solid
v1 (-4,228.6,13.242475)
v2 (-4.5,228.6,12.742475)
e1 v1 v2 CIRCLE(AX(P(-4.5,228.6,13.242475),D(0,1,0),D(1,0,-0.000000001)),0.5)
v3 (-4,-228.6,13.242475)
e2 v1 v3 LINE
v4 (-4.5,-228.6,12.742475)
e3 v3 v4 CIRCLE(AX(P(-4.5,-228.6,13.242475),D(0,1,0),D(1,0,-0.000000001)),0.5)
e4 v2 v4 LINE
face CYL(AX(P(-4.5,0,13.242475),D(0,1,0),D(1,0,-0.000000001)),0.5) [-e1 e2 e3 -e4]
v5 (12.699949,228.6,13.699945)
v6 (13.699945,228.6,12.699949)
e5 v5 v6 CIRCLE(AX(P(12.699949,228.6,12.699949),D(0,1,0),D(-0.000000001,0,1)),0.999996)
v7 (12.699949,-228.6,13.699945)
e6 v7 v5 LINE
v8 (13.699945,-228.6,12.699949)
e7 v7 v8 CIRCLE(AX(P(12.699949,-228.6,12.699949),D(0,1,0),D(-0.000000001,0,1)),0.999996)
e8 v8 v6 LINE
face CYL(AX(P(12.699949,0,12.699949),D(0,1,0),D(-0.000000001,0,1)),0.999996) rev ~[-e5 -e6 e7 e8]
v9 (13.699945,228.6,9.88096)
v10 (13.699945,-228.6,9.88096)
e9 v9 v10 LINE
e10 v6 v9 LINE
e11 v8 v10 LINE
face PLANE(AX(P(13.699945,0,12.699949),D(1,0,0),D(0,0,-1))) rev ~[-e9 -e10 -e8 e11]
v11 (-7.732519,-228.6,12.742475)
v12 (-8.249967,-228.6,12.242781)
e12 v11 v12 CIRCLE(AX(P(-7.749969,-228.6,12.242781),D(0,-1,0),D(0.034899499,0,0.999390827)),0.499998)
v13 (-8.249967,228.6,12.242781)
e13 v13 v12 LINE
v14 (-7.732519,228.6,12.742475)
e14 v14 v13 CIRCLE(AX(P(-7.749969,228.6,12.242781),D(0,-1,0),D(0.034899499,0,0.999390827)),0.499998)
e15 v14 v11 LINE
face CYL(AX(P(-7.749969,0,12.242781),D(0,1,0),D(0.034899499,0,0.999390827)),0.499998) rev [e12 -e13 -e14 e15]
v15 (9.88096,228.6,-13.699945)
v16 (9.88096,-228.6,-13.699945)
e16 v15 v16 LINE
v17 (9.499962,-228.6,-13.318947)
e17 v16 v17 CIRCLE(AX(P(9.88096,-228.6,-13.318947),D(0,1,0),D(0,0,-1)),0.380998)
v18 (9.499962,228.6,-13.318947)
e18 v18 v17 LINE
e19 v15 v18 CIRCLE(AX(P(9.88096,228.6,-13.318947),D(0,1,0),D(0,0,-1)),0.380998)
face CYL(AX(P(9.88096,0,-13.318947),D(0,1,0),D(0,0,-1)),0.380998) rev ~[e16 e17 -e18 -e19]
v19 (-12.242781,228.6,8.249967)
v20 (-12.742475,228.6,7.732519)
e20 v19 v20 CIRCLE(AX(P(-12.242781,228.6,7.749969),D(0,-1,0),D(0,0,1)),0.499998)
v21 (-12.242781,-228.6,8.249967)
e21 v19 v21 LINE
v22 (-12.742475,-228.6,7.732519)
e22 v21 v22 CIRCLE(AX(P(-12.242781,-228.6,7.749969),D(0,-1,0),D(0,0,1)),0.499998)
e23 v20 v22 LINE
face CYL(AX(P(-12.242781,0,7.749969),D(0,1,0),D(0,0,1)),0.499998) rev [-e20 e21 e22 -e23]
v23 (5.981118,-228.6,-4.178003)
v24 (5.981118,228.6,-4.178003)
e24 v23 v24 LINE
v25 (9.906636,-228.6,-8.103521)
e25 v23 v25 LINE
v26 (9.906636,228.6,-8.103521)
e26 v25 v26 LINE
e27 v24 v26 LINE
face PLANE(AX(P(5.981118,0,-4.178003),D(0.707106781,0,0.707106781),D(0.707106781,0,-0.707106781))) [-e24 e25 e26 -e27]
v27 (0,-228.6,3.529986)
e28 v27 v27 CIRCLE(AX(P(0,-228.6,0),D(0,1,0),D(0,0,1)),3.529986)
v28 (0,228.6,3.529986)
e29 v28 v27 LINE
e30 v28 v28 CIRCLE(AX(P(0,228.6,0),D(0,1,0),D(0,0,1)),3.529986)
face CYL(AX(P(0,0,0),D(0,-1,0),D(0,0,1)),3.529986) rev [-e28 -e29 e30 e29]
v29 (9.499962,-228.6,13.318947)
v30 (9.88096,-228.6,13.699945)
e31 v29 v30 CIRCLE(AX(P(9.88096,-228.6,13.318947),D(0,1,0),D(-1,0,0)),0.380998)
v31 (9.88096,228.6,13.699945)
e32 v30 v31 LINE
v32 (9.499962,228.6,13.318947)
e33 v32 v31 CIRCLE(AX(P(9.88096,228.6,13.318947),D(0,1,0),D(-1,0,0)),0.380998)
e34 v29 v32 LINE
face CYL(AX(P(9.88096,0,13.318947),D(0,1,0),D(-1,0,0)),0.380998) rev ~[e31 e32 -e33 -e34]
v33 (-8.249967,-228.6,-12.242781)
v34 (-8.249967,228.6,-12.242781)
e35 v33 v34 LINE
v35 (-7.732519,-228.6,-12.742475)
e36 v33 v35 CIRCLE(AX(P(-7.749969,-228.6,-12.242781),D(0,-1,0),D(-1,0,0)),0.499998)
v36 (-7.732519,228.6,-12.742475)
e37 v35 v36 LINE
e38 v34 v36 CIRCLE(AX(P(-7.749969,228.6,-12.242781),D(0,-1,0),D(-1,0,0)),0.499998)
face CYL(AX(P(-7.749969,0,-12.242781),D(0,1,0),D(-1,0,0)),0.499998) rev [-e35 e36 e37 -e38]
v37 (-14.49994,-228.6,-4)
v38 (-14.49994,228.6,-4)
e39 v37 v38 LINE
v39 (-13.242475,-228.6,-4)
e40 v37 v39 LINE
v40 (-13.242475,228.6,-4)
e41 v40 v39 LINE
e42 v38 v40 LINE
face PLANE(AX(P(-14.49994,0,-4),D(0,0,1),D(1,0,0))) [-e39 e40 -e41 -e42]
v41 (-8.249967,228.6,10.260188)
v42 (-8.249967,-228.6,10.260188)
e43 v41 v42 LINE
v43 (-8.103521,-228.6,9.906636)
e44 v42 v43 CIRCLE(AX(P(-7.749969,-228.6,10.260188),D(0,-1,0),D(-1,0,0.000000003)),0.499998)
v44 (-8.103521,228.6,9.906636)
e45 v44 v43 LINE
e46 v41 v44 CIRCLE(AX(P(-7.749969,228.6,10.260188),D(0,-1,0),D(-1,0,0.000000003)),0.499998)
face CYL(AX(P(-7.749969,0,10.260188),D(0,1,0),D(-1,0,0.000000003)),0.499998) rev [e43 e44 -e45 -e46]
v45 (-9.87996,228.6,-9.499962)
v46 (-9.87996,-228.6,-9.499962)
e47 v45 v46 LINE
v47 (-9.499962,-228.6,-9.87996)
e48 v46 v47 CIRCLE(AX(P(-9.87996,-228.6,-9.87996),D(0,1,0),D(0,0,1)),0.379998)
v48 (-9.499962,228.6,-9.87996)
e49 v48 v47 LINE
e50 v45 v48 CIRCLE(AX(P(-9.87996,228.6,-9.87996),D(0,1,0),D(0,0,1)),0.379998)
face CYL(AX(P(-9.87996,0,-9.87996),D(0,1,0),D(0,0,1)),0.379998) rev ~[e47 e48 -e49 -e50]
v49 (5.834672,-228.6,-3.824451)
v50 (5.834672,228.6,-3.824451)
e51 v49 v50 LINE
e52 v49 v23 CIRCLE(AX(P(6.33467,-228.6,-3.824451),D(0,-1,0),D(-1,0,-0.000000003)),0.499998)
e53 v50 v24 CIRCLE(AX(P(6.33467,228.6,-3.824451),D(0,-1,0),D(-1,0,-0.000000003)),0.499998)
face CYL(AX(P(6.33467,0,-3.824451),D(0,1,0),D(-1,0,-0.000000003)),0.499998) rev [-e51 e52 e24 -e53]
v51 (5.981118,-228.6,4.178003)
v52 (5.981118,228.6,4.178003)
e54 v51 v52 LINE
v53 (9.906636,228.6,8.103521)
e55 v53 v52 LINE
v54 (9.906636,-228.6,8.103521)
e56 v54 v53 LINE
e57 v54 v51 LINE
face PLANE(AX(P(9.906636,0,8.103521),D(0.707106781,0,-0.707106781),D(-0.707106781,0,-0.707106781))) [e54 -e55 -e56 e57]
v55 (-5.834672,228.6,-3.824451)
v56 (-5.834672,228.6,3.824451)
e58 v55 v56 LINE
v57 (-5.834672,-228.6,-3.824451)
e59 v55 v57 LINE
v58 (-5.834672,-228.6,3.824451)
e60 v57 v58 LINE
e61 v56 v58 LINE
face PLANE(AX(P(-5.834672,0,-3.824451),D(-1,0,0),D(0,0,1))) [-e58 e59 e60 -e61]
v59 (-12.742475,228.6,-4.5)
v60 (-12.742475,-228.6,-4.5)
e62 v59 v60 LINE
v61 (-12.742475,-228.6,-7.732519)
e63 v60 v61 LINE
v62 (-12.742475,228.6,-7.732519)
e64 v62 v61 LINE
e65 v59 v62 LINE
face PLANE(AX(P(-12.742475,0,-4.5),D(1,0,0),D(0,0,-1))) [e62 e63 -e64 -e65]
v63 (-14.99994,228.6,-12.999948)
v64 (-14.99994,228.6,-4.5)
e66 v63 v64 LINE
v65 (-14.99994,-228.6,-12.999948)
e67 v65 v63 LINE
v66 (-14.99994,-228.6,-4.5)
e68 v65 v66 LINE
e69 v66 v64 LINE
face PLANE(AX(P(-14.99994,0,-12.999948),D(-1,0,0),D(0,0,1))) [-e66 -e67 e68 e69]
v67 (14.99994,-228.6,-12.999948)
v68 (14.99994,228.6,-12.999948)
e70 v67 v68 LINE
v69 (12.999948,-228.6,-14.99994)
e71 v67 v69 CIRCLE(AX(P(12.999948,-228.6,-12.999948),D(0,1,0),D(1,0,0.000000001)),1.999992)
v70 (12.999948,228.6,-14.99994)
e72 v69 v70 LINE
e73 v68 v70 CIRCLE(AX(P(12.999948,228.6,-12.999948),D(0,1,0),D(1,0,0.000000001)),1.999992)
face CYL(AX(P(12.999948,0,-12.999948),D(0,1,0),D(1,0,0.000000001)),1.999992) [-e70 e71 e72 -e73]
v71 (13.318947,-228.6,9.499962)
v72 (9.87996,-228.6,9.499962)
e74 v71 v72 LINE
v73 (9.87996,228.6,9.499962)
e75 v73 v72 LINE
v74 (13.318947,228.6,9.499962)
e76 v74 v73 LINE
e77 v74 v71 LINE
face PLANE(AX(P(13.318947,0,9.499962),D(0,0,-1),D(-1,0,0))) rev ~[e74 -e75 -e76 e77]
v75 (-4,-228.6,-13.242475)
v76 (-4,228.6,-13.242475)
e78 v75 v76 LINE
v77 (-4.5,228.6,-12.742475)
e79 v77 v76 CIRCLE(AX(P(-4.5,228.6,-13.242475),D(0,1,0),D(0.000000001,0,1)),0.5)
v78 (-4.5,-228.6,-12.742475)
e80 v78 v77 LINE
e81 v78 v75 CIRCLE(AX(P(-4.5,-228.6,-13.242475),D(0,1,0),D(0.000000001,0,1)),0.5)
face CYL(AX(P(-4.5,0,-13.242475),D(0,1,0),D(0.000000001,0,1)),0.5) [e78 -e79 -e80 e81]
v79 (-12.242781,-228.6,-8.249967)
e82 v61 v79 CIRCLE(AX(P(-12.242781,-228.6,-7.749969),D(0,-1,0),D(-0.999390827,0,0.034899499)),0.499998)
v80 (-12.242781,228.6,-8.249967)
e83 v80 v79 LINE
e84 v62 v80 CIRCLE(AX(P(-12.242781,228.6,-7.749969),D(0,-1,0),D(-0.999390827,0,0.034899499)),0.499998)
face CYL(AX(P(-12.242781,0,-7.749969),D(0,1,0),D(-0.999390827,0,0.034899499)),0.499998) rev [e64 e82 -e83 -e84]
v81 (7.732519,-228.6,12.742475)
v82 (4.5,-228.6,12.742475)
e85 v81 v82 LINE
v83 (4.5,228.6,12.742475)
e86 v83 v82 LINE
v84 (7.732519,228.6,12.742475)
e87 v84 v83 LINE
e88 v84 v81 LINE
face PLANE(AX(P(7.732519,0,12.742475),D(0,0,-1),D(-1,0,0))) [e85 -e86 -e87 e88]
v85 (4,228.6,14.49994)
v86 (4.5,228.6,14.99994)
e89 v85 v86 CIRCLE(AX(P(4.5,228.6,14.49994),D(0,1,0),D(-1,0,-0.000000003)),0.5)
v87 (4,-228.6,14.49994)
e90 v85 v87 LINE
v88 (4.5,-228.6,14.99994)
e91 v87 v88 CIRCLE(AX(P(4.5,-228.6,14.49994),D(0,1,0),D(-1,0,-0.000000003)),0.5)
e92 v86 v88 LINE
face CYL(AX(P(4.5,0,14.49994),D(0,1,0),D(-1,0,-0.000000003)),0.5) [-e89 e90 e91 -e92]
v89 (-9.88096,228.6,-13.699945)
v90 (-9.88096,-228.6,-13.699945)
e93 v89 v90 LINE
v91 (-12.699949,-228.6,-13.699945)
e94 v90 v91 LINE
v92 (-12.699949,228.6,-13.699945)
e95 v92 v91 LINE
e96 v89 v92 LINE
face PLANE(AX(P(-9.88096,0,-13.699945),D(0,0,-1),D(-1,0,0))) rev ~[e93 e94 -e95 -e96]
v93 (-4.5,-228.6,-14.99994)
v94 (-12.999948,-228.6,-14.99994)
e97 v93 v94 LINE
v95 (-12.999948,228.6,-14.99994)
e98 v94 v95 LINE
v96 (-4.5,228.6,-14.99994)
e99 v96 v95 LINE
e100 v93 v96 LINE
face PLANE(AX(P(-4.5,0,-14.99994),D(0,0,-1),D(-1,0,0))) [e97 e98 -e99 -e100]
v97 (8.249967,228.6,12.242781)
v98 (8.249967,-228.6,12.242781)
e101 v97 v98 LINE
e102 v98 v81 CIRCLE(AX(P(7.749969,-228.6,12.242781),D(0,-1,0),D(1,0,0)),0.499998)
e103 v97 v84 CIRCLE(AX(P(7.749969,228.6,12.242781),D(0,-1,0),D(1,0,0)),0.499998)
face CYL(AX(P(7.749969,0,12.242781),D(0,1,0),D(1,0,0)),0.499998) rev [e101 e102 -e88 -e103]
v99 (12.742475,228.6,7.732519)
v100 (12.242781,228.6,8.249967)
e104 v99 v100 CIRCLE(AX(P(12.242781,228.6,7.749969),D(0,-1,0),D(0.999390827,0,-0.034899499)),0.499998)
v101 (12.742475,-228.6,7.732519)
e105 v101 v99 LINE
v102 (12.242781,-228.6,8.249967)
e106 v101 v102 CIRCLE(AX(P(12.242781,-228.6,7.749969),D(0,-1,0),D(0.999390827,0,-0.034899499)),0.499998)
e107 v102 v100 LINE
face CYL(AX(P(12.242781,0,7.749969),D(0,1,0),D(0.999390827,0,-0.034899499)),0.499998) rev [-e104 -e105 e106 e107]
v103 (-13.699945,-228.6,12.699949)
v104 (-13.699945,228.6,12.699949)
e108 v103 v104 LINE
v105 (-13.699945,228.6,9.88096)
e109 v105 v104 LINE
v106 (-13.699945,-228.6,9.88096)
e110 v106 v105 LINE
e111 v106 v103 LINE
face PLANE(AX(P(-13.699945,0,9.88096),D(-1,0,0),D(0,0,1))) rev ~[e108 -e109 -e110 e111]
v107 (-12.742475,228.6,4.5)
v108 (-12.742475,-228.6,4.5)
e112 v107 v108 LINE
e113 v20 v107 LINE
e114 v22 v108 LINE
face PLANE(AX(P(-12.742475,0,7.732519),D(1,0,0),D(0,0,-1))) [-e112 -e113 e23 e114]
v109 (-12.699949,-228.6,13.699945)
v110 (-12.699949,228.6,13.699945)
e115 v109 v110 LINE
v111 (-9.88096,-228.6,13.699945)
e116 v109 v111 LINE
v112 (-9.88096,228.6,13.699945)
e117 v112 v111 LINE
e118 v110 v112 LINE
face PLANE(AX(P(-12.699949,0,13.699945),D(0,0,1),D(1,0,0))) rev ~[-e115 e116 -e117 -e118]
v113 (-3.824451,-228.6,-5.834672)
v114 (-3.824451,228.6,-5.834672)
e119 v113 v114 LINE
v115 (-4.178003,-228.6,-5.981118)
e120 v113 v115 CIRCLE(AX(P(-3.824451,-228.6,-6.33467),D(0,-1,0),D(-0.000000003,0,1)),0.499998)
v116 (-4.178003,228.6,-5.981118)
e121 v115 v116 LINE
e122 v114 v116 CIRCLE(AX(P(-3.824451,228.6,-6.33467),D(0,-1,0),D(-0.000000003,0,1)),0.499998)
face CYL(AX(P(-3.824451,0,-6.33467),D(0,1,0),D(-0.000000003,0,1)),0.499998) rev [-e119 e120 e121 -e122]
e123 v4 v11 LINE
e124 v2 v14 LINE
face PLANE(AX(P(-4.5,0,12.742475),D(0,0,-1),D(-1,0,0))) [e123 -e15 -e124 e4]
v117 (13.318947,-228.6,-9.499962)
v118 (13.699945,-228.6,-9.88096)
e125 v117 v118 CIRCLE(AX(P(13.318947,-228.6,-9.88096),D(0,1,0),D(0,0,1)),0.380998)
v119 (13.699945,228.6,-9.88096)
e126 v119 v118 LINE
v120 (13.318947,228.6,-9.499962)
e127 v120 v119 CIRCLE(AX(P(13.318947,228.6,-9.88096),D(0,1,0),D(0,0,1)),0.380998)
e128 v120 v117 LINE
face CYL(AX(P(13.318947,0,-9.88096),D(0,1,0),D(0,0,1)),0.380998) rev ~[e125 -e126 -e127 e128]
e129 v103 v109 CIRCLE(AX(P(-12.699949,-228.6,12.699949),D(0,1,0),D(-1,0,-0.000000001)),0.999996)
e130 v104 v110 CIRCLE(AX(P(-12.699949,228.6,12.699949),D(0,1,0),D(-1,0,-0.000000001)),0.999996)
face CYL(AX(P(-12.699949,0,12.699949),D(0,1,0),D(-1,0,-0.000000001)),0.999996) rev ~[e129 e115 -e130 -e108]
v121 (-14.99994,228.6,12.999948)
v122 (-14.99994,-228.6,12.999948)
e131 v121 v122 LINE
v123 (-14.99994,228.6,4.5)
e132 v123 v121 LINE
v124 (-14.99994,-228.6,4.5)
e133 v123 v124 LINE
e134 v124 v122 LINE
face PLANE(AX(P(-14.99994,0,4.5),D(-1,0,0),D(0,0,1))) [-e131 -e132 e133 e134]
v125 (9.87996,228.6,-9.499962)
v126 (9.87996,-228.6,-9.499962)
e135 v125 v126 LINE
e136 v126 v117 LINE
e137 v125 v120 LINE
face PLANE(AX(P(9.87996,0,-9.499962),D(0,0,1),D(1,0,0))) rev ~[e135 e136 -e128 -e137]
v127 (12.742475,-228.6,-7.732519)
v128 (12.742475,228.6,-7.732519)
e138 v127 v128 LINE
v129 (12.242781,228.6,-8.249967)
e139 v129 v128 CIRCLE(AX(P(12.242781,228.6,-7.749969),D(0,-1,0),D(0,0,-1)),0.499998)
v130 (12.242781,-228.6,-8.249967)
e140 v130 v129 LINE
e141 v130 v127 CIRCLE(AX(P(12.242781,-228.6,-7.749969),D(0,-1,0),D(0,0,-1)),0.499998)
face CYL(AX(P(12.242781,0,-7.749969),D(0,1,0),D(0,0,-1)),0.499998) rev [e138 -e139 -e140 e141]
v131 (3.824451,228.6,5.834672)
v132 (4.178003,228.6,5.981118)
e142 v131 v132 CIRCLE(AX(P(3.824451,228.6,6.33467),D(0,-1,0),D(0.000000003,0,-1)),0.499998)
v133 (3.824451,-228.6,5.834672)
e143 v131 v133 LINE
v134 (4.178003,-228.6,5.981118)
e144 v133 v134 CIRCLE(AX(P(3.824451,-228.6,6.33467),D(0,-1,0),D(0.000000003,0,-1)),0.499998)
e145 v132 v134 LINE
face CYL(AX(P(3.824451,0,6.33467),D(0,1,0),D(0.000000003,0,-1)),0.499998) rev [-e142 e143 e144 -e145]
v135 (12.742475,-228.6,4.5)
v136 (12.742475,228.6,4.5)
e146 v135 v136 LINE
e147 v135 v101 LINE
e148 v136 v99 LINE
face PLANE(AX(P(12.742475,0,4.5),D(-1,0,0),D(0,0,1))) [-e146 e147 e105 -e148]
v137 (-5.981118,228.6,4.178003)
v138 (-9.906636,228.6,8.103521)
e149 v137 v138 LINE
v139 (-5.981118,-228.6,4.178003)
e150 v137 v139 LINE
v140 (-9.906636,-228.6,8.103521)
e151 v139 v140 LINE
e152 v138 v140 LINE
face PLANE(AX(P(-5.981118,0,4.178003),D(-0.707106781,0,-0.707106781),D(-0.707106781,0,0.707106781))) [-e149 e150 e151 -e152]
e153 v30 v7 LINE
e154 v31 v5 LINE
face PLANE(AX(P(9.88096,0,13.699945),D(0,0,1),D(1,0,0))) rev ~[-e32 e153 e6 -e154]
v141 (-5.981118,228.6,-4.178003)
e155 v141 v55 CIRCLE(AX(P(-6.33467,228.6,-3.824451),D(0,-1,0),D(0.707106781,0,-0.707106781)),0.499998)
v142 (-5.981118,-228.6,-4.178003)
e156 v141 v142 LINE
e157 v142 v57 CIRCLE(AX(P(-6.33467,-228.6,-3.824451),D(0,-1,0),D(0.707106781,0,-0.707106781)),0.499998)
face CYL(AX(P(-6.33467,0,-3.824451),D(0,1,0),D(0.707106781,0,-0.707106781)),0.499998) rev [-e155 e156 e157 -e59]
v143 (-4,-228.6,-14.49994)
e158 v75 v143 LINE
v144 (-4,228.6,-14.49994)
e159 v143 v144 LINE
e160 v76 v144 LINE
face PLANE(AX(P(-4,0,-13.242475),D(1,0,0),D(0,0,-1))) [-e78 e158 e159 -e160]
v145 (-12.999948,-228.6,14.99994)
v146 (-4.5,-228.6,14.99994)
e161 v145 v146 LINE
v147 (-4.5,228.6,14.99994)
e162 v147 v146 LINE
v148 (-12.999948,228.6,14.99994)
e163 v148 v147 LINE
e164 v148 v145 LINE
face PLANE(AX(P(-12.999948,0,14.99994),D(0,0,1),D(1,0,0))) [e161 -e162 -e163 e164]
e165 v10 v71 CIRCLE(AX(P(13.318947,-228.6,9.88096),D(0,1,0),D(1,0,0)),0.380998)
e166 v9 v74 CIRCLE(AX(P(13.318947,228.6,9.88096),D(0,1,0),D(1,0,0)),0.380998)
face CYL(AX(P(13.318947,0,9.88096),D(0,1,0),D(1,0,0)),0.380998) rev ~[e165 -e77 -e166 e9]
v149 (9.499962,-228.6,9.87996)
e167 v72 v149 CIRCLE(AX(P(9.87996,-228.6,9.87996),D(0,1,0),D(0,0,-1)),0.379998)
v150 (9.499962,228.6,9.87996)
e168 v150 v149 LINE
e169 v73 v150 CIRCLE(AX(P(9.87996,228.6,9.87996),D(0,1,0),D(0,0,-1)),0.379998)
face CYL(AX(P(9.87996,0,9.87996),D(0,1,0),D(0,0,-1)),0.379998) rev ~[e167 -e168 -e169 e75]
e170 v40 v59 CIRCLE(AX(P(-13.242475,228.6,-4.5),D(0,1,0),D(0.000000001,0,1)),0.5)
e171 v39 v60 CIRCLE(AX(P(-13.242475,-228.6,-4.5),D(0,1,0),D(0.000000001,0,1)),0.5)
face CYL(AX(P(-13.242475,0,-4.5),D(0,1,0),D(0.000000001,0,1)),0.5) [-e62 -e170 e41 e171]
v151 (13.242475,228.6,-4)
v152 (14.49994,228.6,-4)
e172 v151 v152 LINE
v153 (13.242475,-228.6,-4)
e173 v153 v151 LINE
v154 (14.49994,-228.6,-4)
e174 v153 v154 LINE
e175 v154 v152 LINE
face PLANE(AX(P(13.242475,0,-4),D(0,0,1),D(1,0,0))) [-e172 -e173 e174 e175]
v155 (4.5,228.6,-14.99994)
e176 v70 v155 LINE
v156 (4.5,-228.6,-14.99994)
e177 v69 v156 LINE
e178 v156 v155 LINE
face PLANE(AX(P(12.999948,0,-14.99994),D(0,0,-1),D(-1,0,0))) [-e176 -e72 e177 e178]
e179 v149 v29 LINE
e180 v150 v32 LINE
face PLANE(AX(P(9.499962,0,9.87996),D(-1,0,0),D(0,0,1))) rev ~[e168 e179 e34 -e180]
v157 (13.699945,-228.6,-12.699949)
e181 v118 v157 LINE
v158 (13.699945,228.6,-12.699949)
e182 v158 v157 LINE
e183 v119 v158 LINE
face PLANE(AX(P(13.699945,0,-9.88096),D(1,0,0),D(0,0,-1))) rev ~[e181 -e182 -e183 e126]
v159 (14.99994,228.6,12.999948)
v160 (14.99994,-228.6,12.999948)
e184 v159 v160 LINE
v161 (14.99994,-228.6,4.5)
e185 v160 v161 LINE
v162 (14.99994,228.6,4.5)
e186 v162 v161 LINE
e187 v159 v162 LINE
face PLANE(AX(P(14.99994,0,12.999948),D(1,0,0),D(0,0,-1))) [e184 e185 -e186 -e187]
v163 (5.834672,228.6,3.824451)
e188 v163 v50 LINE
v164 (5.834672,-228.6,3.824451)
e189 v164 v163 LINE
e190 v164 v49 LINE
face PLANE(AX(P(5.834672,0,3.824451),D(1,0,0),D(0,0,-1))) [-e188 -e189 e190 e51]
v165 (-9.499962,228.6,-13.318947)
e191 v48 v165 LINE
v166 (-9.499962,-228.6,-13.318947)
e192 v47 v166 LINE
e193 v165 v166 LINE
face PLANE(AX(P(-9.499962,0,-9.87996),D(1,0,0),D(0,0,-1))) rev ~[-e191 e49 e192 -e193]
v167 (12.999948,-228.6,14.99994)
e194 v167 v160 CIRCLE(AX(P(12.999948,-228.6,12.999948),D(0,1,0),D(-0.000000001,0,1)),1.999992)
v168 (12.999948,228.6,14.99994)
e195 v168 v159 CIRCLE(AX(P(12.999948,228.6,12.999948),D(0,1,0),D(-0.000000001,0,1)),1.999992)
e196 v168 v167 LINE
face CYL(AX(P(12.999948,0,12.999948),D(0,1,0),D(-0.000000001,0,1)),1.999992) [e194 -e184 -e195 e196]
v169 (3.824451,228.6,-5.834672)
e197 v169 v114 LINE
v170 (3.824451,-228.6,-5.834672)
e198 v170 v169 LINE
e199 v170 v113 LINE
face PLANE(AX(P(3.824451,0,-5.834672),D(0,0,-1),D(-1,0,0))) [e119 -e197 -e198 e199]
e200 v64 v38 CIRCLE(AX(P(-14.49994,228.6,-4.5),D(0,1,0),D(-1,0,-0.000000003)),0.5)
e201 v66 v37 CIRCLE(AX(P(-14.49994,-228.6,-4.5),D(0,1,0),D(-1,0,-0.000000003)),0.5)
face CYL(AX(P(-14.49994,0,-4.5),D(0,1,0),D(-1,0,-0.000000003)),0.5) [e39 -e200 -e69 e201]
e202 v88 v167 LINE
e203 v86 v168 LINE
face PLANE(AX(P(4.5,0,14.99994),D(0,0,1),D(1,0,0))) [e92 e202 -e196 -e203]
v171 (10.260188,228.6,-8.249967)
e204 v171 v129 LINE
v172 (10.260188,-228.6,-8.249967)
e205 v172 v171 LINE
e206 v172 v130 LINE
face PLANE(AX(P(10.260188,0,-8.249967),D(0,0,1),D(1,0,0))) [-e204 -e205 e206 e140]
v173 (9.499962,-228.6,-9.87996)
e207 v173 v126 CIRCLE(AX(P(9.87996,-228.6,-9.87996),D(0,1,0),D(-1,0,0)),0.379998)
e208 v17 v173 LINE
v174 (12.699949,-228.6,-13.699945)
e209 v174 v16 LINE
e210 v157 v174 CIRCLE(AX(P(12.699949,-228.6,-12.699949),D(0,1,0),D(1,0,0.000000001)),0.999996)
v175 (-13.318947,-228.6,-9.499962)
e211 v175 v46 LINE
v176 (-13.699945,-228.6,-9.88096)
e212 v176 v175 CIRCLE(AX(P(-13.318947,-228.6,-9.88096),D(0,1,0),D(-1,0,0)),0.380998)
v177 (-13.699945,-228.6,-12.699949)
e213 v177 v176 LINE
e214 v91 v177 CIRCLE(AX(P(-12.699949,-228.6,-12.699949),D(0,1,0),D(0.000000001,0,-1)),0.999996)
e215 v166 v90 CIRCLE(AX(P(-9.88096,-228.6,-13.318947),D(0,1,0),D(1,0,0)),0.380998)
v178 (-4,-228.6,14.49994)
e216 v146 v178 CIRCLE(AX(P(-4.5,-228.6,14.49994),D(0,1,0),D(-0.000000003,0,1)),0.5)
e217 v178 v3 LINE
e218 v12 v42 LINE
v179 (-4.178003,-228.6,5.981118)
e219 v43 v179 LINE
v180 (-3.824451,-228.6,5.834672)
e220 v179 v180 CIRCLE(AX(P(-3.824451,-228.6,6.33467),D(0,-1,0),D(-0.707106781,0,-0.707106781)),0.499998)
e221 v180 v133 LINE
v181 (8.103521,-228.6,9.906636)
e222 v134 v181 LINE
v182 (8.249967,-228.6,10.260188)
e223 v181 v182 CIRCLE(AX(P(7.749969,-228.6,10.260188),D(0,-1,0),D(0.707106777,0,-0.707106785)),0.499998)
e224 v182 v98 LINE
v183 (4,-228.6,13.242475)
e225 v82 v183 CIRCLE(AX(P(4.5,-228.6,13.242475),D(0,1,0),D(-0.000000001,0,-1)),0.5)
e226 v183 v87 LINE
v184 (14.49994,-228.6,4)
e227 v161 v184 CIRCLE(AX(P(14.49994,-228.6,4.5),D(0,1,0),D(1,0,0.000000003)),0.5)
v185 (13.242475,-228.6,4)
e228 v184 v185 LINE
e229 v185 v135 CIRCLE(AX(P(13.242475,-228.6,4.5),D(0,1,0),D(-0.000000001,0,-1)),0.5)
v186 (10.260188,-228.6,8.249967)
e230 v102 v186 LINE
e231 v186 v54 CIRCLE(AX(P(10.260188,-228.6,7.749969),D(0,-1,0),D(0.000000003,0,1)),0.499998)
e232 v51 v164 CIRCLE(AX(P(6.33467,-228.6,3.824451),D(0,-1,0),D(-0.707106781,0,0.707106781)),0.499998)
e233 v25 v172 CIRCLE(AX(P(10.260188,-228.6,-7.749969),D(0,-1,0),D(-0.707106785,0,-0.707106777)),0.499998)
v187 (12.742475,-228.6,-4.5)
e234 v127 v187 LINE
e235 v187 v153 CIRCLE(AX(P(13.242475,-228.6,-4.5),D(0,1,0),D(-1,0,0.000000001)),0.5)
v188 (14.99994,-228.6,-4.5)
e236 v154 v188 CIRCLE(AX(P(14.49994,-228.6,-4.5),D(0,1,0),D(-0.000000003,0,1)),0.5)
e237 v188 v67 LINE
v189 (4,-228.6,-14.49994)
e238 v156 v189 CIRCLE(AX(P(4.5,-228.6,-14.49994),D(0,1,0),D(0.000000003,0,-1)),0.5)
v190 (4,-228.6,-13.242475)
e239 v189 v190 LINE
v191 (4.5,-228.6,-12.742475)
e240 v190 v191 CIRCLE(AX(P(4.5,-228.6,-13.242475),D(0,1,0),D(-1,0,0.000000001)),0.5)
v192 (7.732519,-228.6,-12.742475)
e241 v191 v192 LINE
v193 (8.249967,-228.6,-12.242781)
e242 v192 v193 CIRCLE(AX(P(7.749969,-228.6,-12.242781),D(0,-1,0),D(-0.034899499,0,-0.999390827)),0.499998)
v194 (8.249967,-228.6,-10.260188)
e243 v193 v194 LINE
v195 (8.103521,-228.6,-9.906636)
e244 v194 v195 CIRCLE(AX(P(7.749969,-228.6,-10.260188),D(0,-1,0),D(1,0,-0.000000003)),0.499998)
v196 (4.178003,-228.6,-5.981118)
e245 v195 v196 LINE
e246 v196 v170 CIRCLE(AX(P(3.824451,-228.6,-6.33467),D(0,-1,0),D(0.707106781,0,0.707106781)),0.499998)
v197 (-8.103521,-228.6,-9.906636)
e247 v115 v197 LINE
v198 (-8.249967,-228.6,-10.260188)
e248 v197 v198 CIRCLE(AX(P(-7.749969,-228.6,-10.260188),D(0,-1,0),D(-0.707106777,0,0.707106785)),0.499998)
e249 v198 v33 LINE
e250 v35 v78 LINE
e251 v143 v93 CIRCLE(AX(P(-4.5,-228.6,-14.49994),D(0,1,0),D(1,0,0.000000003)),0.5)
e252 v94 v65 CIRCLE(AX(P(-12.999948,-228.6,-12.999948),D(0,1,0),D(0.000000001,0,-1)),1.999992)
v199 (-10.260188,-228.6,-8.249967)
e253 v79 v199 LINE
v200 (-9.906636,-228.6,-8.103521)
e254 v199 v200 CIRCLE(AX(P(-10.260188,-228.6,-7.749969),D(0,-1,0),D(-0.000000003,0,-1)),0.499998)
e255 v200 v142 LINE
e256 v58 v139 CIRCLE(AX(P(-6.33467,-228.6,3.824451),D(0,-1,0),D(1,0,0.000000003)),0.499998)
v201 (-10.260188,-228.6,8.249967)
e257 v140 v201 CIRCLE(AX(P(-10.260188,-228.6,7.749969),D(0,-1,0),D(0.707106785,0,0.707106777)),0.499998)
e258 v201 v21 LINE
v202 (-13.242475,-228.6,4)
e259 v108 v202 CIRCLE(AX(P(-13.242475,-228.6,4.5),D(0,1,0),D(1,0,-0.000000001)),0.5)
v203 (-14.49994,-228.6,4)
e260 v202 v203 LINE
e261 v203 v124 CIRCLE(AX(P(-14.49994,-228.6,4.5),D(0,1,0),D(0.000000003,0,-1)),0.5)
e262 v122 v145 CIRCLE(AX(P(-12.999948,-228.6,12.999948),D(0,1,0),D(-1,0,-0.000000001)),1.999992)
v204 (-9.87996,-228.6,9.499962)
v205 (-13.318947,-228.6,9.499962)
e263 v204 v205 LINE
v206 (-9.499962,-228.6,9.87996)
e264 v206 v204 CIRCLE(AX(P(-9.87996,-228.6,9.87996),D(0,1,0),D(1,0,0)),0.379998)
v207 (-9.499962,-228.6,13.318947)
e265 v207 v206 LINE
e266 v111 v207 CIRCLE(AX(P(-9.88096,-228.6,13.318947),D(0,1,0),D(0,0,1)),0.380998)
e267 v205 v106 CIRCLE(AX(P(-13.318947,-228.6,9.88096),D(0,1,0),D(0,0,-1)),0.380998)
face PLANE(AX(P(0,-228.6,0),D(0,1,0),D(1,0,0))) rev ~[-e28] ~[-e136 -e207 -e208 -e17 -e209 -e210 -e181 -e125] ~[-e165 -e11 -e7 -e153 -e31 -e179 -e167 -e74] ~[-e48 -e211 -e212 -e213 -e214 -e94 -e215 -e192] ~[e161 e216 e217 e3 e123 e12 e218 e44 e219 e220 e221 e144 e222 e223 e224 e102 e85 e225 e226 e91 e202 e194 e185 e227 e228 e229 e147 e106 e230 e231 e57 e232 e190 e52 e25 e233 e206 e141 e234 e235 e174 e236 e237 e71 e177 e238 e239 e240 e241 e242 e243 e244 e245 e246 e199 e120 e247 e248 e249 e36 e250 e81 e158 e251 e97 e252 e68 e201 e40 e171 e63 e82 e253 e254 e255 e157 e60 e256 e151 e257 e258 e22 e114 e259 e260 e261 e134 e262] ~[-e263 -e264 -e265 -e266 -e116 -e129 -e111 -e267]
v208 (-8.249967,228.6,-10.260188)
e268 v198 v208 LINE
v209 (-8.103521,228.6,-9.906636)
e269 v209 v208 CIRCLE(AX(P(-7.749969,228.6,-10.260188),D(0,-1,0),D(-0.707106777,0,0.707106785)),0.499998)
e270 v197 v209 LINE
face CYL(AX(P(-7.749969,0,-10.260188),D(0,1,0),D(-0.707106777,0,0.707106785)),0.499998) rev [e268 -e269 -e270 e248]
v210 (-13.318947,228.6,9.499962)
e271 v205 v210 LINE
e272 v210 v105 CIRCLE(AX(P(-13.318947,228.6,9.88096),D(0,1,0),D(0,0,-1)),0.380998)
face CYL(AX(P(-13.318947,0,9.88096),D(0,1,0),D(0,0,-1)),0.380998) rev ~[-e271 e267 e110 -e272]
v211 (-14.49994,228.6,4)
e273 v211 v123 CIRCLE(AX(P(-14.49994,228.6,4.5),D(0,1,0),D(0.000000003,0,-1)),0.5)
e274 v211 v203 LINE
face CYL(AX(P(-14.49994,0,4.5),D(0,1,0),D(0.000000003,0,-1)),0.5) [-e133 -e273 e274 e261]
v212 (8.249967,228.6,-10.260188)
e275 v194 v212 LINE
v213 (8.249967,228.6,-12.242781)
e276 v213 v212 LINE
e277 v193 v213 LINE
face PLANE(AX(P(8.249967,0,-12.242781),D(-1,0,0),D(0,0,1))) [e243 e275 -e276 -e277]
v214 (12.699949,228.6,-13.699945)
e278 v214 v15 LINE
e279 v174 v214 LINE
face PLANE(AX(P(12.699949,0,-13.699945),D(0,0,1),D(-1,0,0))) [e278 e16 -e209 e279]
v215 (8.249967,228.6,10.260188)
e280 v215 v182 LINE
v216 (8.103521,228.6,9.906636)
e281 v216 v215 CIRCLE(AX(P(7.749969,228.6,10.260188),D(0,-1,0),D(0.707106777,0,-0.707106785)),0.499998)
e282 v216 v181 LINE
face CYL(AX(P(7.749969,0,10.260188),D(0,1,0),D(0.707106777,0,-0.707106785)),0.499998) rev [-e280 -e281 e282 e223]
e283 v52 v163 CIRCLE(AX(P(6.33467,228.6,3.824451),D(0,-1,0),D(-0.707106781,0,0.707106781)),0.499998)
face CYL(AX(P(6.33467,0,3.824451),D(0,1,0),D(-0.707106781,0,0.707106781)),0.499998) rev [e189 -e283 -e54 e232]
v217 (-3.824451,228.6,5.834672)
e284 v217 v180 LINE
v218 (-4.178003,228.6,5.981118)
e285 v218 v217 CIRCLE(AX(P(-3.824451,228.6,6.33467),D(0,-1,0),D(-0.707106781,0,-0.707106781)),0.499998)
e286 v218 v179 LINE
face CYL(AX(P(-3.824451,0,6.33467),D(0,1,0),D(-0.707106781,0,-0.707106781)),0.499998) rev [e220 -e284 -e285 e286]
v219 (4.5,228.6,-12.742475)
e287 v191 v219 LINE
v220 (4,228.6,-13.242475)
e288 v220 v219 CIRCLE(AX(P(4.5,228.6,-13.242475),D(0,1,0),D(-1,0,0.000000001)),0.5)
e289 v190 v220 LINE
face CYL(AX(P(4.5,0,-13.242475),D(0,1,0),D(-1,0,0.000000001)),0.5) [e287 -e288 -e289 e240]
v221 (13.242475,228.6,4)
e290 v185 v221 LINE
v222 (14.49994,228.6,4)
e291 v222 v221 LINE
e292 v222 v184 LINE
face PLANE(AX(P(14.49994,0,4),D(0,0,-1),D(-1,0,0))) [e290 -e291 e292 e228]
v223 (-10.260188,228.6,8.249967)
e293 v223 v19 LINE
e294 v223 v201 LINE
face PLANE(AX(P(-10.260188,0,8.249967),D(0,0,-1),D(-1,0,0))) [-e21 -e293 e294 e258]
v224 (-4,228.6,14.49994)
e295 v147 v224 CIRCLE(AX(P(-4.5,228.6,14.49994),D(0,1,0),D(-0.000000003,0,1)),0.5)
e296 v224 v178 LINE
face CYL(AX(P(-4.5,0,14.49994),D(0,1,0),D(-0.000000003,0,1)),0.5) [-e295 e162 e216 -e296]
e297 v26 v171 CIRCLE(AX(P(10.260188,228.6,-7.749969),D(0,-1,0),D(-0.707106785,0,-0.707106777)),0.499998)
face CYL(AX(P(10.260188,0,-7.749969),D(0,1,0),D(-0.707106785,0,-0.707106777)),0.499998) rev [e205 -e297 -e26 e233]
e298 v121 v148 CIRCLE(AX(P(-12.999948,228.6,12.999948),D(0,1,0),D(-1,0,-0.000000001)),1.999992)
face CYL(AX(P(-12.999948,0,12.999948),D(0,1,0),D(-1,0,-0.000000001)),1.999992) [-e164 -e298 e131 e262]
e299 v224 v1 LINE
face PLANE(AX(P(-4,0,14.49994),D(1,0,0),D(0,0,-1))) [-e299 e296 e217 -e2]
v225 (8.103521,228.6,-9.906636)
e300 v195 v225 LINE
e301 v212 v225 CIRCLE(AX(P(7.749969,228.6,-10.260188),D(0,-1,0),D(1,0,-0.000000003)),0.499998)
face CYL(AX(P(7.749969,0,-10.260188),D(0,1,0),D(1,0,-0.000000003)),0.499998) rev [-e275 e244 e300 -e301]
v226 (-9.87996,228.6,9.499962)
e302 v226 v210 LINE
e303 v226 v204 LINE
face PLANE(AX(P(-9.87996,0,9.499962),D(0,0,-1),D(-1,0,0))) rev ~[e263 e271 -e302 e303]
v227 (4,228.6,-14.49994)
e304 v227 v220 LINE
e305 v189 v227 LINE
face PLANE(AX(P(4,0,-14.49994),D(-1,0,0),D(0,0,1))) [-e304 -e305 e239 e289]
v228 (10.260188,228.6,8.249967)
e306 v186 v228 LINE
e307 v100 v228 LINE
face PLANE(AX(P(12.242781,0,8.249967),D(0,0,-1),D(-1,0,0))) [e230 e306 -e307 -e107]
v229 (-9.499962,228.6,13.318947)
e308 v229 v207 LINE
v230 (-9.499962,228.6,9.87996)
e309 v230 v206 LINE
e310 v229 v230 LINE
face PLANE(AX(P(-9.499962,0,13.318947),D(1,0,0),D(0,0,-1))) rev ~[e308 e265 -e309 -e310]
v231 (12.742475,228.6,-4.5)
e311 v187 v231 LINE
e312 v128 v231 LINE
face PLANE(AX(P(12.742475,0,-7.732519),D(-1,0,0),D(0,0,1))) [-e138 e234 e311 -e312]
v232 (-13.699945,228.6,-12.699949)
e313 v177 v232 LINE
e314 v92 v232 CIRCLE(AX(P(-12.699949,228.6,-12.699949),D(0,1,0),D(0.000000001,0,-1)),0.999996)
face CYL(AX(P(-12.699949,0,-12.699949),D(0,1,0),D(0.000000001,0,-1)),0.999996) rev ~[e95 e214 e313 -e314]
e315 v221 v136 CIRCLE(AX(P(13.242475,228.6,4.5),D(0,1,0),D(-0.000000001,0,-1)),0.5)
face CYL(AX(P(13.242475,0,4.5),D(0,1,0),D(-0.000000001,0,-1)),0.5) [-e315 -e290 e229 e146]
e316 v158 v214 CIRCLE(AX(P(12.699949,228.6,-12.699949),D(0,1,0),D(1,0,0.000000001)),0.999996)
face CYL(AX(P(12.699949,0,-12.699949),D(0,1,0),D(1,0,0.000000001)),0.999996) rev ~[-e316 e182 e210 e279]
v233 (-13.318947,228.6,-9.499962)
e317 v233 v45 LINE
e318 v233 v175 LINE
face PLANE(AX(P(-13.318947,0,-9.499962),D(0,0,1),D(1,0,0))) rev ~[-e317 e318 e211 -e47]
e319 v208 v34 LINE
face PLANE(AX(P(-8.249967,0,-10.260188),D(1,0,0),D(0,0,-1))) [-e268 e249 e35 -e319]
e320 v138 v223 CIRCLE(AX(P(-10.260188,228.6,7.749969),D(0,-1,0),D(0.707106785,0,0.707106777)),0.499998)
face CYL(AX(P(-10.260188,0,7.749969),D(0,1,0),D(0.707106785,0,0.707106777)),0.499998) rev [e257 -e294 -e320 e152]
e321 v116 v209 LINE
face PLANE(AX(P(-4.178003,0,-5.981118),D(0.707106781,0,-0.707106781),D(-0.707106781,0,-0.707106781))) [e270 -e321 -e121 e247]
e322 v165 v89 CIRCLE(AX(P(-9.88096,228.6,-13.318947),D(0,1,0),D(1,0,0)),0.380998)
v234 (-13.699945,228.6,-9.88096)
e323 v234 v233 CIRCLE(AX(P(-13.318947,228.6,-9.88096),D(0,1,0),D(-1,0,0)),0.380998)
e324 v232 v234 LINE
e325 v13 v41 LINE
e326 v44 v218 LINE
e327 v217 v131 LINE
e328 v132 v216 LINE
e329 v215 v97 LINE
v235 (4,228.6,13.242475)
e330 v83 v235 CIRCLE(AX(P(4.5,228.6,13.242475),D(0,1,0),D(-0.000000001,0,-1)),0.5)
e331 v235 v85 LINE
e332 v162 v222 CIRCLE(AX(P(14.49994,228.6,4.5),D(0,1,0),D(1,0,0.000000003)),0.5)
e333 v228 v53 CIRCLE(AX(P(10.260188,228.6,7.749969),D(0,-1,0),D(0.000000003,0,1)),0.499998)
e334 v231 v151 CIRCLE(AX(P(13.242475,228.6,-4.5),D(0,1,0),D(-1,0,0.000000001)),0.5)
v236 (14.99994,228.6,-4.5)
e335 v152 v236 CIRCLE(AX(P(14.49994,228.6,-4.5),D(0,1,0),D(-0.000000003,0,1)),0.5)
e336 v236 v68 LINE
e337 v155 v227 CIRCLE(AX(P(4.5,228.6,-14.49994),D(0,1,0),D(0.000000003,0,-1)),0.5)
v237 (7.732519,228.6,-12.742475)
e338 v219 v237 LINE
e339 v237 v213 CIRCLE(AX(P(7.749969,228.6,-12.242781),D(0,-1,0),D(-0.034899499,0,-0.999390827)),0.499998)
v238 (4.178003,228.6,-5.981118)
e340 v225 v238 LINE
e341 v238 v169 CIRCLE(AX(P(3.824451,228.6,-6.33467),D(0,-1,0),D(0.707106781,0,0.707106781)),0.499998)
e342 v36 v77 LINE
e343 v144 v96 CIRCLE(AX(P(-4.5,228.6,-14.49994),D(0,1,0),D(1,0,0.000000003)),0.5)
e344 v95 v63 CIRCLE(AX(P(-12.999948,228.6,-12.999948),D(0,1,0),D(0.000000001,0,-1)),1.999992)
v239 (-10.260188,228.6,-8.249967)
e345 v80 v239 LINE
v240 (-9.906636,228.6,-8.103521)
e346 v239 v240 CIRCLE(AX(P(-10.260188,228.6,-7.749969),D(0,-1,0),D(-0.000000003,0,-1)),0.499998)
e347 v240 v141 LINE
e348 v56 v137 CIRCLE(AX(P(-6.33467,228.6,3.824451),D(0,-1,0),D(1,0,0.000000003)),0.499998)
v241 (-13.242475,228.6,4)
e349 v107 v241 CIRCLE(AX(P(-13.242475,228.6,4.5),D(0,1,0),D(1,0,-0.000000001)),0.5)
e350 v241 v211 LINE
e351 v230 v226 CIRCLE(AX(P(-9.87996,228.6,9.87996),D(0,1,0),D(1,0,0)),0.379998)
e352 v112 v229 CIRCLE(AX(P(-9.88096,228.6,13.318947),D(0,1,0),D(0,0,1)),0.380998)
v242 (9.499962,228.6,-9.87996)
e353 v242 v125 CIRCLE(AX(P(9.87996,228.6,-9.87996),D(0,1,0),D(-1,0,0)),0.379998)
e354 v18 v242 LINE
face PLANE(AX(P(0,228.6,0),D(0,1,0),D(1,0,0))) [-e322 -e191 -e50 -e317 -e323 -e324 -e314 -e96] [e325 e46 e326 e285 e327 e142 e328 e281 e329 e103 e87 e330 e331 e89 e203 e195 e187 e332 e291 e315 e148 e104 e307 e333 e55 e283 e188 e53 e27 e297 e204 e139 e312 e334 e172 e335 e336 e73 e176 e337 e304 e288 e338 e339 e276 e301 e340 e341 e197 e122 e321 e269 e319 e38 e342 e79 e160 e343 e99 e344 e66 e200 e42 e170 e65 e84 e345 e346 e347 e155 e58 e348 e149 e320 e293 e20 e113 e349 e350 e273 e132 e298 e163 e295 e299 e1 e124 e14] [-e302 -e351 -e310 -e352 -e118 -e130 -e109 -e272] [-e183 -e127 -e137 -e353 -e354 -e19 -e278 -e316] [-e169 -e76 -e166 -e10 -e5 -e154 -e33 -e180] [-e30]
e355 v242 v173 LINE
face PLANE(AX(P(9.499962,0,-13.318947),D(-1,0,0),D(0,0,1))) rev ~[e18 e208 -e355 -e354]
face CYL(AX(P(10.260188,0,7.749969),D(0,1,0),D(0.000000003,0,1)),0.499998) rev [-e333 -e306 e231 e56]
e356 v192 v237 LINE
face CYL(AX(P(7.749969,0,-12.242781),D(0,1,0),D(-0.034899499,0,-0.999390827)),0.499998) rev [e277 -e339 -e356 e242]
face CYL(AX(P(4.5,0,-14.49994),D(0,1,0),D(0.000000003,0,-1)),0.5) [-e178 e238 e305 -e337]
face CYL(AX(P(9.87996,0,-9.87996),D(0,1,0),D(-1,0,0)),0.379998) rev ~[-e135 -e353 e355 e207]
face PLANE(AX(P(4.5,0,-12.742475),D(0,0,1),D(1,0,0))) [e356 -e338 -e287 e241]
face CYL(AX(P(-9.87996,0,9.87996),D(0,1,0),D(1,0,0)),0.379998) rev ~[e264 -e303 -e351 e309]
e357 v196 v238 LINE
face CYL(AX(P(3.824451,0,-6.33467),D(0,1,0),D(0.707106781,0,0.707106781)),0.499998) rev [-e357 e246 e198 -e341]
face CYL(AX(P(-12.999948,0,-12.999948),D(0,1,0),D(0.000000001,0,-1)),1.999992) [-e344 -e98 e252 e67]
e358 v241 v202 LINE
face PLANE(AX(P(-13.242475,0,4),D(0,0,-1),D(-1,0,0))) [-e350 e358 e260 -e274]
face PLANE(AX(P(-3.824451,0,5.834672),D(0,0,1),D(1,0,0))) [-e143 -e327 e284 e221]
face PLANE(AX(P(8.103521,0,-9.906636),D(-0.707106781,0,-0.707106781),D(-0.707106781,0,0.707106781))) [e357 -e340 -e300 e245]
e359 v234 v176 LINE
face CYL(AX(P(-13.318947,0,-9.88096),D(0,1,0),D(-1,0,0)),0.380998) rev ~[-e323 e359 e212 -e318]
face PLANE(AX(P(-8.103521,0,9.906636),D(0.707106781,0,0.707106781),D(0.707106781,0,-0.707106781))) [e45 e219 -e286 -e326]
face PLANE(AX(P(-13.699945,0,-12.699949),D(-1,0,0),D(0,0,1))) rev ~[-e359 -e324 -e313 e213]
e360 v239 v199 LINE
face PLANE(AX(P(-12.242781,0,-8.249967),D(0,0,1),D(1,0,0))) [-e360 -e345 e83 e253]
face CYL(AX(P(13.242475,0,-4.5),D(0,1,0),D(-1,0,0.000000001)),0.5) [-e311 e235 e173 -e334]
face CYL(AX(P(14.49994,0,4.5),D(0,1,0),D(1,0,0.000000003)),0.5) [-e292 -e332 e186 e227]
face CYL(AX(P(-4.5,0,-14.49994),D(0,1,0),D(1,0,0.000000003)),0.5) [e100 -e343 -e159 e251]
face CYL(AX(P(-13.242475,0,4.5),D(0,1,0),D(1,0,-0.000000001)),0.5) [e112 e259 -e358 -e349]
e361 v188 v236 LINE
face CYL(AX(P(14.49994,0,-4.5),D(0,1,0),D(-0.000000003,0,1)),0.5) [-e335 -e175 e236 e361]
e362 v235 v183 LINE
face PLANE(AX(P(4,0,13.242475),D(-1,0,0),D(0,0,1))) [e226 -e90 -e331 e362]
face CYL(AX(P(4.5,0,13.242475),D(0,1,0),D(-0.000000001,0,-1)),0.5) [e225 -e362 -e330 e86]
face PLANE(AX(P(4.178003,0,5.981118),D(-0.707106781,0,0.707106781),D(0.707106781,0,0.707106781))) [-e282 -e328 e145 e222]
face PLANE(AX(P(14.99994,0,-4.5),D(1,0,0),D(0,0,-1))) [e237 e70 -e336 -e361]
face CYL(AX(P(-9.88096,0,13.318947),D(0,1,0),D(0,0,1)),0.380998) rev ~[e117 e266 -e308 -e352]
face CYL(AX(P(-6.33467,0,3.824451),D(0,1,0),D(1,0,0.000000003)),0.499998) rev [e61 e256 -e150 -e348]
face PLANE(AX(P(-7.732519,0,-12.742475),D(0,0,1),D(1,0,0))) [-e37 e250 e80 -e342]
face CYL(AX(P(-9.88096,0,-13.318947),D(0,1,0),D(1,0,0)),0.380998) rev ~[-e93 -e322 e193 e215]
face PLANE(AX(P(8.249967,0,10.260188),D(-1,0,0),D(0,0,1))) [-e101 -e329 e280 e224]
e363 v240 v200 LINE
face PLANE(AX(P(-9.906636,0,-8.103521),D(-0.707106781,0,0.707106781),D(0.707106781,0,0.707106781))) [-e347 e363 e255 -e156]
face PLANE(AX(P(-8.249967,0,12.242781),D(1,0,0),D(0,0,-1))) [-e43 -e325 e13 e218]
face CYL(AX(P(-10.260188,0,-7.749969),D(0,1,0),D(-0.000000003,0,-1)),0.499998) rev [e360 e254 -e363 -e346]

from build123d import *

# Parameters (mm, degrees)
SKETCH1_R           = 3.52998588
BOSS_EXTRUDE1_DEPTH = 228.6


with BuildPart() as part:
    # Sketch1 → Boss-Extrude1 (new, symmetric)
    with BuildSketch(Plane(origin=(0, 0, 0), x_dir=(1, 0, 0), z_dir=(0, 1, 0))):
        with BuildLine():
            Line((14.49994, -4), (13.24247465, -4))
            ThreePointArc((13.24247465, -4), (12.88892126, -4.146446609), (12.74247465, -4.5))
            Line((12.74247465, -4.5), (12.74247465, -7.732519321))
            ThreePointArc((12.74247465, -7.732519321), (12.602449697, -8.097296796), (12.242781236, -8.249967))
            Line((12.242781236, -8.249967), (10.260188032, -8.249967))
            ThreePointArc((10.260188032, -8.249967), (10.068847082, -8.211906919), (9.906636056, -8.103520976))
            Line((9.906636056, -8.103520976), (5.981117769, -4.178002689))
            ThreePointArc((5.981117769, -4.178002689), (5.872731827, -4.015791664), (5.834671745, -3.824450713))
            Line((5.834671745, -3.824450713), (5.834671745, -1.01249595))
            Line((5.834671745, -1.01249595), (5.834671745, 0.88749645))
            Line((5.834671745, 0.88749645), (5.834671745, 3.824450713))
            ThreePointArc((5.834671745, 3.824450713), (5.872731827, 4.015791664), (5.981117769, 4.178002689))
            Line((5.981117769, 4.178002689), (9.906636056, 8.103520976))
            ThreePointArc((9.906636056, 8.103520976), (10.068847082, 8.211906919), (10.260188032, 8.249967))
            Line((10.260188032, 8.249967), (12.242781236, 8.249967))
            ThreePointArc((12.242781236, 8.249967), (12.602449697, 8.097296796), (12.74247465, 7.732519321))
            Line((12.74247465, 7.732519321), (12.74247465, 4.5))
            ThreePointArc((12.74247465, 4.5), (12.88892126, 4.146446609), (13.24247465, 4))
            Line((13.24247465, 4), (14.49994, 4))
            ThreePointArc((14.49994, 4), (14.853493391, 4.146446609), (14.99994, 4.5))
            Line((14.99994, 4.5), (14.99994, 12.999948))
            ThreePointArc((14.99994, 12.999948), (14.414155906, 14.414155906), (12.999948, 14.99994))
            Line((12.999948, 14.99994), (4.5, 14.99994))
            ThreePointArc((4.5, 14.99994), (4.146446609, 14.853493391), (4, 14.49994))
            Line((4, 14.49994), (4, 13.24247465))
            ThreePointArc((4, 13.24247465), (4.146446609, 12.88892126), (4.5, 12.74247465))
            Line((4.5, 12.74247465), (7.732519321, 12.74247465))
            ThreePointArc((7.732519321, 12.74247465), (8.097296796, 12.602449697), (8.249967, 12.242781236))
            Line((8.249967, 12.242781236), (8.249967, 10.260188032))
            ThreePointArc((8.249967, 10.260188032), (8.211906919, 10.068847082), (8.103520976, 9.906636056))
            Line((8.103520976, 9.906636056), (4.178002689, 5.981117769))
            ThreePointArc((4.178002689, 5.981117769), (4.015791664, 5.872731827), (3.824450713, 5.834671745))
            Line((3.824450713, 5.834671745), (0.9499962, 5.834671745))
            Line((0.9499962, 5.834671745), (-0.9499962, 5.834671745))
            Line((-0.9499962, 5.834671745), (-3.824450713, 5.834671745))
            ThreePointArc((-3.824450713, 5.834671745), (-4.015791664, 5.872731827), (-4.178002689, 5.981117769))
            Line((-4.178002689, 5.981117769), (-8.103520976, 9.906636056))
            ThreePointArc((-8.103520976, 9.906636056), (-8.211906919, 10.068847082), (-8.249967, 10.260188032))
            Line((-8.249967, 10.260188032), (-8.249967, 12.242781236))
            ThreePointArc((-8.249967, 12.242781236), (-8.097296796, 12.602449697), (-7.732519321, 12.74247465))
            Line((-7.732519321, 12.74247465), (-4.5, 12.74247465))
            ThreePointArc((-4.5, 12.74247465), (-4.146446609, 12.88892126), (-4, 13.24247465))
            Line((-4, 13.24247465), (-4, 14.49994))
            ThreePointArc((-4, 14.49994), (-4.146446609, 14.853493391), (-4.5, 14.99994))
            Line((-4.5, 14.99994), (-12.999948, 14.99994))
            ThreePointArc((-12.999948, 14.99994), (-14.414155906, 14.414155906), (-14.99994, 12.999948))
            Line((-14.99994, 12.999948), (-14.99994, 4.5))
            ThreePointArc((-14.99994, 4.5), (-14.853493391, 4.146446609), (-14.49994, 4))
            Line((-14.49994, 4), (-13.24247465, 4))
            ThreePointArc((-13.24247465, 4), (-12.88892126, 4.146446609), (-12.74247465, 4.5))
            Line((-12.74247465, 4.5), (-12.74247465, 7.732519321))
            ThreePointArc((-12.74247465, 7.732519321), (-12.602449697, 8.097296796), (-12.242781236, 8.249967))
            Line((-12.242781236, 8.249967), (-10.260188032, 8.249967))
            ThreePointArc((-10.260188032, 8.249967), (-10.068847082, 8.211906919), (-9.906636056, 8.103520976))
            Line((-9.906636056, 8.103520976), (-5.981117769, 4.178002689))
            ThreePointArc((-5.981117769, 4.178002689), (-5.872731827, 4.015791664), (-5.834671745, 3.824450713))
            Line((-5.834671745, 3.824450713), (-5.834671745, 0.88749645))
            Line((-5.834671745, 0.88749645), (-5.834671745, -1.01249595))
            Line((-5.834671745, -1.01249595), (-5.834671745, -3.824450713))
            ThreePointArc((-5.834671745, -3.824450713), (-5.872731827, -4.015791664), (-5.981117769, -4.178002689))
            Line((-5.981117769, -4.178002689), (-9.906636056, -8.103520976))
            ThreePointArc((-9.906636056, -8.103520976), (-10.068847082, -8.211906919), (-10.260188032, -8.249967))
            Line((-10.260188032, -8.249967), (-12.242781236, -8.249967))
            ThreePointArc((-12.242781236, -8.249967), (-12.602449697, -8.097296796), (-12.74247465, -7.732519321))
            Line((-12.74247465, -7.732519321), (-12.74247465, -4.5))
            ThreePointArc((-12.74247465, -4.5), (-12.88892126, -4.146446609), (-13.24247465, -4))
            Line((-13.24247465, -4), (-14.49994, -4))
            ThreePointArc((-14.49994, -4), (-14.853493391, -4.146446609), (-14.99994, -4.5))
            Line((-14.99994, -4.5), (-14.99994, -12.999948))
            ThreePointArc((-14.99994, -12.999948), (-14.414155906, -14.414155906), (-12.999948, -14.99994))
            Line((-12.999948, -14.99994), (-4.5, -14.99994))
            ThreePointArc((-4.5, -14.99994), (-4.146446609, -14.853493391), (-4, -14.49994))
            Line((-4, -14.49994), (-4, -13.24247465))
            ThreePointArc((-4, -13.24247465), (-4.146446609, -12.88892126), (-4.5, -12.74247465))
            Line((-4.5, -12.74247465), (-7.732519321, -12.74247465))
            ThreePointArc((-7.732519321, -12.74247465), (-8.097296796, -12.602449697), (-8.249967, -12.242781236))
            Line((-8.249967, -12.242781236), (-8.249967, -10.260188032))
            ThreePointArc((-8.249967, -10.260188032), (-8.211906919, -10.068847082), (-8.103520976, -9.906636056))
            Line((-8.103520976, -9.906636056), (-4.178002689, -5.981117769))
            ThreePointArc((-4.178002689, -5.981117769), (-4.015791664, -5.872731827), (-3.824450713, -5.834671745))
            Line((-3.824450713, -5.834671745), (-0.9499962, -5.834671745))
            Line((-0.9499962, -5.834671745), (0.9499962, -5.834671745))
            Line((0.9499962, -5.834671745), (3.824450713, -5.834671745))
            ThreePointArc((3.824450713, -5.834671745), (4.015791664, -5.872731827), (4.178002689, -5.981117769))
            Line((4.178002689, -5.981117769), (8.103520976, -9.906636056))
            ThreePointArc((8.103520976, -9.906636056), (8.211906919, -10.068847082), (8.249967, -10.260188032))
            Line((8.249967, -10.260188032), (8.249967, -12.242781236))
            ThreePointArc((8.249967, -12.242781236), (8.097296796, -12.602449697), (7.732519321, -12.74247465))
            Line((7.732519321, -12.74247465), (4.5, -12.74247465))
            ThreePointArc((4.5, -12.74247465), (4.146446609, -12.88892126), (4, -13.24247465))
            Line((4, -13.24247465), (4, -14.49994))
            ThreePointArc((4, -14.49994), (4.146446609, -14.853493391), (4.5, -14.99994))
            Line((4.5, -14.99994), (12.999948, -14.99994))
            ThreePointArc((12.999948, -14.99994), (14.414155906, -14.414155906), (14.99994, -12.999948))
            Line((14.99994, -12.999948), (14.99994, -4.5))
            ThreePointArc((14.99994, -4.5), (14.853493391, -4.146446609), (14.49994, -4))
        make_face()
        with Locations(Location((0, 0, 0), (0, 0, 270))):
            Circle(SKETCH1_R, mode=Mode.SUBTRACT)
        with BuildLine():
            Line((-12.6999492, -13.6999452), (-9.880960476, -13.6999452))
            ThreePointArc((-9.880960476, -13.6999452), (-9.61155387, -13.58835333), (-9.499962, -13.318946724))
            Line((-9.499962, -13.318946724), (-9.499962, -9.87996048))
            ThreePointArc((-9.499962, -9.87996048), (-9.611260978, -9.611260978), (-9.87996048, -9.499962))
            Line((-9.87996048, -9.499962), (-13.318946724, -9.499962))
            ThreePointArc((-13.318946724, -9.499962), (-13.58835333, -9.61155387), (-13.6999452, -9.880960476))
            Line((-13.6999452, -9.880960476), (-13.6999452, -12.6999492))
            ThreePointArc((-13.6999452, -12.6999492), (-13.407053153, -13.407053153), (-12.6999492, -13.6999452))
        make_face(mode=Mode.SUBTRACT)
        with BuildLine():
            Line((13.6999452, -12.6999492), (13.6999452, -9.880960476))
            ThreePointArc((13.6999452, -9.880960476), (13.58835333, -9.61155387), (13.318946724, -9.499962))
            Line((13.318946724, -9.499962), (9.87996048, -9.499962))
            ThreePointArc((9.87996048, -9.499962), (9.611260978, -9.611260978), (9.499962, -9.87996048))
            Line((9.499962, -9.87996048), (9.499962, -13.318946724))
            ThreePointArc((9.499962, -13.318946724), (9.61155387, -13.58835333), (9.880960476, -13.6999452))
            Line((9.880960476, -13.6999452), (12.6999492, -13.6999452))
            ThreePointArc((12.6999492, -13.6999452), (13.407053153, -13.407053153), (13.6999452, -12.6999492))
        make_face(mode=Mode.SUBTRACT)
        with BuildLine():
            Line((9.87996048, 9.499962), (13.318946724, 9.499962))
            ThreePointArc((13.318946724, 9.499962), (13.58835333, 9.61155387), (13.6999452, 9.880960476))
            Line((13.6999452, 9.880960476), (13.6999452, 12.6999492))
            ThreePointArc((13.6999452, 12.6999492), (13.407053153, 13.407053153), (12.6999492, 13.6999452))
            Line((12.6999492, 13.6999452), (9.880960476, 13.6999452))
            ThreePointArc((9.880960476, 13.6999452), (9.61155387, 13.58835333), (9.499962, 13.318946724))
            Line((9.499962, 13.318946724), (9.499962, 9.87996048))
            ThreePointArc((9.499962, 9.87996048), (9.611260978, 9.611260978), (9.87996048, 9.499962))
        make_face(mode=Mode.SUBTRACT)
        with BuildLine():
            Line((-13.6999452, 12.6999492), (-13.6999452, 9.880960476))
            ThreePointArc((-13.6999452, 9.880960476), (-13.58835333, 9.61155387), (-13.318946724, 9.499962))
            Line((-13.318946724, 9.499962), (-9.87996048, 9.499962))
            ThreePointArc((-9.87996048, 9.499962), (-9.611260978, 9.611260978), (-9.499962, 9.87996048))
            Line((-9.499962, 9.87996048), (-9.499962, 13.318946724))
            ThreePointArc((-9.499962, 13.318946724), (-9.61155387, 13.58835333), (-9.880960476, 13.6999452))
            Line((-9.880960476, 13.6999452), (-12.6999492, 13.6999452))
            ThreePointArc((-12.6999492, 13.6999452), (-13.407053153, 13.407053153), (-13.6999452, 12.6999492))
        make_face(mode=Mode.SUBTRACT)
    extrude(amount=BOSS_EXTRUDE1_DEPTH, both=True)


solid = part.part
